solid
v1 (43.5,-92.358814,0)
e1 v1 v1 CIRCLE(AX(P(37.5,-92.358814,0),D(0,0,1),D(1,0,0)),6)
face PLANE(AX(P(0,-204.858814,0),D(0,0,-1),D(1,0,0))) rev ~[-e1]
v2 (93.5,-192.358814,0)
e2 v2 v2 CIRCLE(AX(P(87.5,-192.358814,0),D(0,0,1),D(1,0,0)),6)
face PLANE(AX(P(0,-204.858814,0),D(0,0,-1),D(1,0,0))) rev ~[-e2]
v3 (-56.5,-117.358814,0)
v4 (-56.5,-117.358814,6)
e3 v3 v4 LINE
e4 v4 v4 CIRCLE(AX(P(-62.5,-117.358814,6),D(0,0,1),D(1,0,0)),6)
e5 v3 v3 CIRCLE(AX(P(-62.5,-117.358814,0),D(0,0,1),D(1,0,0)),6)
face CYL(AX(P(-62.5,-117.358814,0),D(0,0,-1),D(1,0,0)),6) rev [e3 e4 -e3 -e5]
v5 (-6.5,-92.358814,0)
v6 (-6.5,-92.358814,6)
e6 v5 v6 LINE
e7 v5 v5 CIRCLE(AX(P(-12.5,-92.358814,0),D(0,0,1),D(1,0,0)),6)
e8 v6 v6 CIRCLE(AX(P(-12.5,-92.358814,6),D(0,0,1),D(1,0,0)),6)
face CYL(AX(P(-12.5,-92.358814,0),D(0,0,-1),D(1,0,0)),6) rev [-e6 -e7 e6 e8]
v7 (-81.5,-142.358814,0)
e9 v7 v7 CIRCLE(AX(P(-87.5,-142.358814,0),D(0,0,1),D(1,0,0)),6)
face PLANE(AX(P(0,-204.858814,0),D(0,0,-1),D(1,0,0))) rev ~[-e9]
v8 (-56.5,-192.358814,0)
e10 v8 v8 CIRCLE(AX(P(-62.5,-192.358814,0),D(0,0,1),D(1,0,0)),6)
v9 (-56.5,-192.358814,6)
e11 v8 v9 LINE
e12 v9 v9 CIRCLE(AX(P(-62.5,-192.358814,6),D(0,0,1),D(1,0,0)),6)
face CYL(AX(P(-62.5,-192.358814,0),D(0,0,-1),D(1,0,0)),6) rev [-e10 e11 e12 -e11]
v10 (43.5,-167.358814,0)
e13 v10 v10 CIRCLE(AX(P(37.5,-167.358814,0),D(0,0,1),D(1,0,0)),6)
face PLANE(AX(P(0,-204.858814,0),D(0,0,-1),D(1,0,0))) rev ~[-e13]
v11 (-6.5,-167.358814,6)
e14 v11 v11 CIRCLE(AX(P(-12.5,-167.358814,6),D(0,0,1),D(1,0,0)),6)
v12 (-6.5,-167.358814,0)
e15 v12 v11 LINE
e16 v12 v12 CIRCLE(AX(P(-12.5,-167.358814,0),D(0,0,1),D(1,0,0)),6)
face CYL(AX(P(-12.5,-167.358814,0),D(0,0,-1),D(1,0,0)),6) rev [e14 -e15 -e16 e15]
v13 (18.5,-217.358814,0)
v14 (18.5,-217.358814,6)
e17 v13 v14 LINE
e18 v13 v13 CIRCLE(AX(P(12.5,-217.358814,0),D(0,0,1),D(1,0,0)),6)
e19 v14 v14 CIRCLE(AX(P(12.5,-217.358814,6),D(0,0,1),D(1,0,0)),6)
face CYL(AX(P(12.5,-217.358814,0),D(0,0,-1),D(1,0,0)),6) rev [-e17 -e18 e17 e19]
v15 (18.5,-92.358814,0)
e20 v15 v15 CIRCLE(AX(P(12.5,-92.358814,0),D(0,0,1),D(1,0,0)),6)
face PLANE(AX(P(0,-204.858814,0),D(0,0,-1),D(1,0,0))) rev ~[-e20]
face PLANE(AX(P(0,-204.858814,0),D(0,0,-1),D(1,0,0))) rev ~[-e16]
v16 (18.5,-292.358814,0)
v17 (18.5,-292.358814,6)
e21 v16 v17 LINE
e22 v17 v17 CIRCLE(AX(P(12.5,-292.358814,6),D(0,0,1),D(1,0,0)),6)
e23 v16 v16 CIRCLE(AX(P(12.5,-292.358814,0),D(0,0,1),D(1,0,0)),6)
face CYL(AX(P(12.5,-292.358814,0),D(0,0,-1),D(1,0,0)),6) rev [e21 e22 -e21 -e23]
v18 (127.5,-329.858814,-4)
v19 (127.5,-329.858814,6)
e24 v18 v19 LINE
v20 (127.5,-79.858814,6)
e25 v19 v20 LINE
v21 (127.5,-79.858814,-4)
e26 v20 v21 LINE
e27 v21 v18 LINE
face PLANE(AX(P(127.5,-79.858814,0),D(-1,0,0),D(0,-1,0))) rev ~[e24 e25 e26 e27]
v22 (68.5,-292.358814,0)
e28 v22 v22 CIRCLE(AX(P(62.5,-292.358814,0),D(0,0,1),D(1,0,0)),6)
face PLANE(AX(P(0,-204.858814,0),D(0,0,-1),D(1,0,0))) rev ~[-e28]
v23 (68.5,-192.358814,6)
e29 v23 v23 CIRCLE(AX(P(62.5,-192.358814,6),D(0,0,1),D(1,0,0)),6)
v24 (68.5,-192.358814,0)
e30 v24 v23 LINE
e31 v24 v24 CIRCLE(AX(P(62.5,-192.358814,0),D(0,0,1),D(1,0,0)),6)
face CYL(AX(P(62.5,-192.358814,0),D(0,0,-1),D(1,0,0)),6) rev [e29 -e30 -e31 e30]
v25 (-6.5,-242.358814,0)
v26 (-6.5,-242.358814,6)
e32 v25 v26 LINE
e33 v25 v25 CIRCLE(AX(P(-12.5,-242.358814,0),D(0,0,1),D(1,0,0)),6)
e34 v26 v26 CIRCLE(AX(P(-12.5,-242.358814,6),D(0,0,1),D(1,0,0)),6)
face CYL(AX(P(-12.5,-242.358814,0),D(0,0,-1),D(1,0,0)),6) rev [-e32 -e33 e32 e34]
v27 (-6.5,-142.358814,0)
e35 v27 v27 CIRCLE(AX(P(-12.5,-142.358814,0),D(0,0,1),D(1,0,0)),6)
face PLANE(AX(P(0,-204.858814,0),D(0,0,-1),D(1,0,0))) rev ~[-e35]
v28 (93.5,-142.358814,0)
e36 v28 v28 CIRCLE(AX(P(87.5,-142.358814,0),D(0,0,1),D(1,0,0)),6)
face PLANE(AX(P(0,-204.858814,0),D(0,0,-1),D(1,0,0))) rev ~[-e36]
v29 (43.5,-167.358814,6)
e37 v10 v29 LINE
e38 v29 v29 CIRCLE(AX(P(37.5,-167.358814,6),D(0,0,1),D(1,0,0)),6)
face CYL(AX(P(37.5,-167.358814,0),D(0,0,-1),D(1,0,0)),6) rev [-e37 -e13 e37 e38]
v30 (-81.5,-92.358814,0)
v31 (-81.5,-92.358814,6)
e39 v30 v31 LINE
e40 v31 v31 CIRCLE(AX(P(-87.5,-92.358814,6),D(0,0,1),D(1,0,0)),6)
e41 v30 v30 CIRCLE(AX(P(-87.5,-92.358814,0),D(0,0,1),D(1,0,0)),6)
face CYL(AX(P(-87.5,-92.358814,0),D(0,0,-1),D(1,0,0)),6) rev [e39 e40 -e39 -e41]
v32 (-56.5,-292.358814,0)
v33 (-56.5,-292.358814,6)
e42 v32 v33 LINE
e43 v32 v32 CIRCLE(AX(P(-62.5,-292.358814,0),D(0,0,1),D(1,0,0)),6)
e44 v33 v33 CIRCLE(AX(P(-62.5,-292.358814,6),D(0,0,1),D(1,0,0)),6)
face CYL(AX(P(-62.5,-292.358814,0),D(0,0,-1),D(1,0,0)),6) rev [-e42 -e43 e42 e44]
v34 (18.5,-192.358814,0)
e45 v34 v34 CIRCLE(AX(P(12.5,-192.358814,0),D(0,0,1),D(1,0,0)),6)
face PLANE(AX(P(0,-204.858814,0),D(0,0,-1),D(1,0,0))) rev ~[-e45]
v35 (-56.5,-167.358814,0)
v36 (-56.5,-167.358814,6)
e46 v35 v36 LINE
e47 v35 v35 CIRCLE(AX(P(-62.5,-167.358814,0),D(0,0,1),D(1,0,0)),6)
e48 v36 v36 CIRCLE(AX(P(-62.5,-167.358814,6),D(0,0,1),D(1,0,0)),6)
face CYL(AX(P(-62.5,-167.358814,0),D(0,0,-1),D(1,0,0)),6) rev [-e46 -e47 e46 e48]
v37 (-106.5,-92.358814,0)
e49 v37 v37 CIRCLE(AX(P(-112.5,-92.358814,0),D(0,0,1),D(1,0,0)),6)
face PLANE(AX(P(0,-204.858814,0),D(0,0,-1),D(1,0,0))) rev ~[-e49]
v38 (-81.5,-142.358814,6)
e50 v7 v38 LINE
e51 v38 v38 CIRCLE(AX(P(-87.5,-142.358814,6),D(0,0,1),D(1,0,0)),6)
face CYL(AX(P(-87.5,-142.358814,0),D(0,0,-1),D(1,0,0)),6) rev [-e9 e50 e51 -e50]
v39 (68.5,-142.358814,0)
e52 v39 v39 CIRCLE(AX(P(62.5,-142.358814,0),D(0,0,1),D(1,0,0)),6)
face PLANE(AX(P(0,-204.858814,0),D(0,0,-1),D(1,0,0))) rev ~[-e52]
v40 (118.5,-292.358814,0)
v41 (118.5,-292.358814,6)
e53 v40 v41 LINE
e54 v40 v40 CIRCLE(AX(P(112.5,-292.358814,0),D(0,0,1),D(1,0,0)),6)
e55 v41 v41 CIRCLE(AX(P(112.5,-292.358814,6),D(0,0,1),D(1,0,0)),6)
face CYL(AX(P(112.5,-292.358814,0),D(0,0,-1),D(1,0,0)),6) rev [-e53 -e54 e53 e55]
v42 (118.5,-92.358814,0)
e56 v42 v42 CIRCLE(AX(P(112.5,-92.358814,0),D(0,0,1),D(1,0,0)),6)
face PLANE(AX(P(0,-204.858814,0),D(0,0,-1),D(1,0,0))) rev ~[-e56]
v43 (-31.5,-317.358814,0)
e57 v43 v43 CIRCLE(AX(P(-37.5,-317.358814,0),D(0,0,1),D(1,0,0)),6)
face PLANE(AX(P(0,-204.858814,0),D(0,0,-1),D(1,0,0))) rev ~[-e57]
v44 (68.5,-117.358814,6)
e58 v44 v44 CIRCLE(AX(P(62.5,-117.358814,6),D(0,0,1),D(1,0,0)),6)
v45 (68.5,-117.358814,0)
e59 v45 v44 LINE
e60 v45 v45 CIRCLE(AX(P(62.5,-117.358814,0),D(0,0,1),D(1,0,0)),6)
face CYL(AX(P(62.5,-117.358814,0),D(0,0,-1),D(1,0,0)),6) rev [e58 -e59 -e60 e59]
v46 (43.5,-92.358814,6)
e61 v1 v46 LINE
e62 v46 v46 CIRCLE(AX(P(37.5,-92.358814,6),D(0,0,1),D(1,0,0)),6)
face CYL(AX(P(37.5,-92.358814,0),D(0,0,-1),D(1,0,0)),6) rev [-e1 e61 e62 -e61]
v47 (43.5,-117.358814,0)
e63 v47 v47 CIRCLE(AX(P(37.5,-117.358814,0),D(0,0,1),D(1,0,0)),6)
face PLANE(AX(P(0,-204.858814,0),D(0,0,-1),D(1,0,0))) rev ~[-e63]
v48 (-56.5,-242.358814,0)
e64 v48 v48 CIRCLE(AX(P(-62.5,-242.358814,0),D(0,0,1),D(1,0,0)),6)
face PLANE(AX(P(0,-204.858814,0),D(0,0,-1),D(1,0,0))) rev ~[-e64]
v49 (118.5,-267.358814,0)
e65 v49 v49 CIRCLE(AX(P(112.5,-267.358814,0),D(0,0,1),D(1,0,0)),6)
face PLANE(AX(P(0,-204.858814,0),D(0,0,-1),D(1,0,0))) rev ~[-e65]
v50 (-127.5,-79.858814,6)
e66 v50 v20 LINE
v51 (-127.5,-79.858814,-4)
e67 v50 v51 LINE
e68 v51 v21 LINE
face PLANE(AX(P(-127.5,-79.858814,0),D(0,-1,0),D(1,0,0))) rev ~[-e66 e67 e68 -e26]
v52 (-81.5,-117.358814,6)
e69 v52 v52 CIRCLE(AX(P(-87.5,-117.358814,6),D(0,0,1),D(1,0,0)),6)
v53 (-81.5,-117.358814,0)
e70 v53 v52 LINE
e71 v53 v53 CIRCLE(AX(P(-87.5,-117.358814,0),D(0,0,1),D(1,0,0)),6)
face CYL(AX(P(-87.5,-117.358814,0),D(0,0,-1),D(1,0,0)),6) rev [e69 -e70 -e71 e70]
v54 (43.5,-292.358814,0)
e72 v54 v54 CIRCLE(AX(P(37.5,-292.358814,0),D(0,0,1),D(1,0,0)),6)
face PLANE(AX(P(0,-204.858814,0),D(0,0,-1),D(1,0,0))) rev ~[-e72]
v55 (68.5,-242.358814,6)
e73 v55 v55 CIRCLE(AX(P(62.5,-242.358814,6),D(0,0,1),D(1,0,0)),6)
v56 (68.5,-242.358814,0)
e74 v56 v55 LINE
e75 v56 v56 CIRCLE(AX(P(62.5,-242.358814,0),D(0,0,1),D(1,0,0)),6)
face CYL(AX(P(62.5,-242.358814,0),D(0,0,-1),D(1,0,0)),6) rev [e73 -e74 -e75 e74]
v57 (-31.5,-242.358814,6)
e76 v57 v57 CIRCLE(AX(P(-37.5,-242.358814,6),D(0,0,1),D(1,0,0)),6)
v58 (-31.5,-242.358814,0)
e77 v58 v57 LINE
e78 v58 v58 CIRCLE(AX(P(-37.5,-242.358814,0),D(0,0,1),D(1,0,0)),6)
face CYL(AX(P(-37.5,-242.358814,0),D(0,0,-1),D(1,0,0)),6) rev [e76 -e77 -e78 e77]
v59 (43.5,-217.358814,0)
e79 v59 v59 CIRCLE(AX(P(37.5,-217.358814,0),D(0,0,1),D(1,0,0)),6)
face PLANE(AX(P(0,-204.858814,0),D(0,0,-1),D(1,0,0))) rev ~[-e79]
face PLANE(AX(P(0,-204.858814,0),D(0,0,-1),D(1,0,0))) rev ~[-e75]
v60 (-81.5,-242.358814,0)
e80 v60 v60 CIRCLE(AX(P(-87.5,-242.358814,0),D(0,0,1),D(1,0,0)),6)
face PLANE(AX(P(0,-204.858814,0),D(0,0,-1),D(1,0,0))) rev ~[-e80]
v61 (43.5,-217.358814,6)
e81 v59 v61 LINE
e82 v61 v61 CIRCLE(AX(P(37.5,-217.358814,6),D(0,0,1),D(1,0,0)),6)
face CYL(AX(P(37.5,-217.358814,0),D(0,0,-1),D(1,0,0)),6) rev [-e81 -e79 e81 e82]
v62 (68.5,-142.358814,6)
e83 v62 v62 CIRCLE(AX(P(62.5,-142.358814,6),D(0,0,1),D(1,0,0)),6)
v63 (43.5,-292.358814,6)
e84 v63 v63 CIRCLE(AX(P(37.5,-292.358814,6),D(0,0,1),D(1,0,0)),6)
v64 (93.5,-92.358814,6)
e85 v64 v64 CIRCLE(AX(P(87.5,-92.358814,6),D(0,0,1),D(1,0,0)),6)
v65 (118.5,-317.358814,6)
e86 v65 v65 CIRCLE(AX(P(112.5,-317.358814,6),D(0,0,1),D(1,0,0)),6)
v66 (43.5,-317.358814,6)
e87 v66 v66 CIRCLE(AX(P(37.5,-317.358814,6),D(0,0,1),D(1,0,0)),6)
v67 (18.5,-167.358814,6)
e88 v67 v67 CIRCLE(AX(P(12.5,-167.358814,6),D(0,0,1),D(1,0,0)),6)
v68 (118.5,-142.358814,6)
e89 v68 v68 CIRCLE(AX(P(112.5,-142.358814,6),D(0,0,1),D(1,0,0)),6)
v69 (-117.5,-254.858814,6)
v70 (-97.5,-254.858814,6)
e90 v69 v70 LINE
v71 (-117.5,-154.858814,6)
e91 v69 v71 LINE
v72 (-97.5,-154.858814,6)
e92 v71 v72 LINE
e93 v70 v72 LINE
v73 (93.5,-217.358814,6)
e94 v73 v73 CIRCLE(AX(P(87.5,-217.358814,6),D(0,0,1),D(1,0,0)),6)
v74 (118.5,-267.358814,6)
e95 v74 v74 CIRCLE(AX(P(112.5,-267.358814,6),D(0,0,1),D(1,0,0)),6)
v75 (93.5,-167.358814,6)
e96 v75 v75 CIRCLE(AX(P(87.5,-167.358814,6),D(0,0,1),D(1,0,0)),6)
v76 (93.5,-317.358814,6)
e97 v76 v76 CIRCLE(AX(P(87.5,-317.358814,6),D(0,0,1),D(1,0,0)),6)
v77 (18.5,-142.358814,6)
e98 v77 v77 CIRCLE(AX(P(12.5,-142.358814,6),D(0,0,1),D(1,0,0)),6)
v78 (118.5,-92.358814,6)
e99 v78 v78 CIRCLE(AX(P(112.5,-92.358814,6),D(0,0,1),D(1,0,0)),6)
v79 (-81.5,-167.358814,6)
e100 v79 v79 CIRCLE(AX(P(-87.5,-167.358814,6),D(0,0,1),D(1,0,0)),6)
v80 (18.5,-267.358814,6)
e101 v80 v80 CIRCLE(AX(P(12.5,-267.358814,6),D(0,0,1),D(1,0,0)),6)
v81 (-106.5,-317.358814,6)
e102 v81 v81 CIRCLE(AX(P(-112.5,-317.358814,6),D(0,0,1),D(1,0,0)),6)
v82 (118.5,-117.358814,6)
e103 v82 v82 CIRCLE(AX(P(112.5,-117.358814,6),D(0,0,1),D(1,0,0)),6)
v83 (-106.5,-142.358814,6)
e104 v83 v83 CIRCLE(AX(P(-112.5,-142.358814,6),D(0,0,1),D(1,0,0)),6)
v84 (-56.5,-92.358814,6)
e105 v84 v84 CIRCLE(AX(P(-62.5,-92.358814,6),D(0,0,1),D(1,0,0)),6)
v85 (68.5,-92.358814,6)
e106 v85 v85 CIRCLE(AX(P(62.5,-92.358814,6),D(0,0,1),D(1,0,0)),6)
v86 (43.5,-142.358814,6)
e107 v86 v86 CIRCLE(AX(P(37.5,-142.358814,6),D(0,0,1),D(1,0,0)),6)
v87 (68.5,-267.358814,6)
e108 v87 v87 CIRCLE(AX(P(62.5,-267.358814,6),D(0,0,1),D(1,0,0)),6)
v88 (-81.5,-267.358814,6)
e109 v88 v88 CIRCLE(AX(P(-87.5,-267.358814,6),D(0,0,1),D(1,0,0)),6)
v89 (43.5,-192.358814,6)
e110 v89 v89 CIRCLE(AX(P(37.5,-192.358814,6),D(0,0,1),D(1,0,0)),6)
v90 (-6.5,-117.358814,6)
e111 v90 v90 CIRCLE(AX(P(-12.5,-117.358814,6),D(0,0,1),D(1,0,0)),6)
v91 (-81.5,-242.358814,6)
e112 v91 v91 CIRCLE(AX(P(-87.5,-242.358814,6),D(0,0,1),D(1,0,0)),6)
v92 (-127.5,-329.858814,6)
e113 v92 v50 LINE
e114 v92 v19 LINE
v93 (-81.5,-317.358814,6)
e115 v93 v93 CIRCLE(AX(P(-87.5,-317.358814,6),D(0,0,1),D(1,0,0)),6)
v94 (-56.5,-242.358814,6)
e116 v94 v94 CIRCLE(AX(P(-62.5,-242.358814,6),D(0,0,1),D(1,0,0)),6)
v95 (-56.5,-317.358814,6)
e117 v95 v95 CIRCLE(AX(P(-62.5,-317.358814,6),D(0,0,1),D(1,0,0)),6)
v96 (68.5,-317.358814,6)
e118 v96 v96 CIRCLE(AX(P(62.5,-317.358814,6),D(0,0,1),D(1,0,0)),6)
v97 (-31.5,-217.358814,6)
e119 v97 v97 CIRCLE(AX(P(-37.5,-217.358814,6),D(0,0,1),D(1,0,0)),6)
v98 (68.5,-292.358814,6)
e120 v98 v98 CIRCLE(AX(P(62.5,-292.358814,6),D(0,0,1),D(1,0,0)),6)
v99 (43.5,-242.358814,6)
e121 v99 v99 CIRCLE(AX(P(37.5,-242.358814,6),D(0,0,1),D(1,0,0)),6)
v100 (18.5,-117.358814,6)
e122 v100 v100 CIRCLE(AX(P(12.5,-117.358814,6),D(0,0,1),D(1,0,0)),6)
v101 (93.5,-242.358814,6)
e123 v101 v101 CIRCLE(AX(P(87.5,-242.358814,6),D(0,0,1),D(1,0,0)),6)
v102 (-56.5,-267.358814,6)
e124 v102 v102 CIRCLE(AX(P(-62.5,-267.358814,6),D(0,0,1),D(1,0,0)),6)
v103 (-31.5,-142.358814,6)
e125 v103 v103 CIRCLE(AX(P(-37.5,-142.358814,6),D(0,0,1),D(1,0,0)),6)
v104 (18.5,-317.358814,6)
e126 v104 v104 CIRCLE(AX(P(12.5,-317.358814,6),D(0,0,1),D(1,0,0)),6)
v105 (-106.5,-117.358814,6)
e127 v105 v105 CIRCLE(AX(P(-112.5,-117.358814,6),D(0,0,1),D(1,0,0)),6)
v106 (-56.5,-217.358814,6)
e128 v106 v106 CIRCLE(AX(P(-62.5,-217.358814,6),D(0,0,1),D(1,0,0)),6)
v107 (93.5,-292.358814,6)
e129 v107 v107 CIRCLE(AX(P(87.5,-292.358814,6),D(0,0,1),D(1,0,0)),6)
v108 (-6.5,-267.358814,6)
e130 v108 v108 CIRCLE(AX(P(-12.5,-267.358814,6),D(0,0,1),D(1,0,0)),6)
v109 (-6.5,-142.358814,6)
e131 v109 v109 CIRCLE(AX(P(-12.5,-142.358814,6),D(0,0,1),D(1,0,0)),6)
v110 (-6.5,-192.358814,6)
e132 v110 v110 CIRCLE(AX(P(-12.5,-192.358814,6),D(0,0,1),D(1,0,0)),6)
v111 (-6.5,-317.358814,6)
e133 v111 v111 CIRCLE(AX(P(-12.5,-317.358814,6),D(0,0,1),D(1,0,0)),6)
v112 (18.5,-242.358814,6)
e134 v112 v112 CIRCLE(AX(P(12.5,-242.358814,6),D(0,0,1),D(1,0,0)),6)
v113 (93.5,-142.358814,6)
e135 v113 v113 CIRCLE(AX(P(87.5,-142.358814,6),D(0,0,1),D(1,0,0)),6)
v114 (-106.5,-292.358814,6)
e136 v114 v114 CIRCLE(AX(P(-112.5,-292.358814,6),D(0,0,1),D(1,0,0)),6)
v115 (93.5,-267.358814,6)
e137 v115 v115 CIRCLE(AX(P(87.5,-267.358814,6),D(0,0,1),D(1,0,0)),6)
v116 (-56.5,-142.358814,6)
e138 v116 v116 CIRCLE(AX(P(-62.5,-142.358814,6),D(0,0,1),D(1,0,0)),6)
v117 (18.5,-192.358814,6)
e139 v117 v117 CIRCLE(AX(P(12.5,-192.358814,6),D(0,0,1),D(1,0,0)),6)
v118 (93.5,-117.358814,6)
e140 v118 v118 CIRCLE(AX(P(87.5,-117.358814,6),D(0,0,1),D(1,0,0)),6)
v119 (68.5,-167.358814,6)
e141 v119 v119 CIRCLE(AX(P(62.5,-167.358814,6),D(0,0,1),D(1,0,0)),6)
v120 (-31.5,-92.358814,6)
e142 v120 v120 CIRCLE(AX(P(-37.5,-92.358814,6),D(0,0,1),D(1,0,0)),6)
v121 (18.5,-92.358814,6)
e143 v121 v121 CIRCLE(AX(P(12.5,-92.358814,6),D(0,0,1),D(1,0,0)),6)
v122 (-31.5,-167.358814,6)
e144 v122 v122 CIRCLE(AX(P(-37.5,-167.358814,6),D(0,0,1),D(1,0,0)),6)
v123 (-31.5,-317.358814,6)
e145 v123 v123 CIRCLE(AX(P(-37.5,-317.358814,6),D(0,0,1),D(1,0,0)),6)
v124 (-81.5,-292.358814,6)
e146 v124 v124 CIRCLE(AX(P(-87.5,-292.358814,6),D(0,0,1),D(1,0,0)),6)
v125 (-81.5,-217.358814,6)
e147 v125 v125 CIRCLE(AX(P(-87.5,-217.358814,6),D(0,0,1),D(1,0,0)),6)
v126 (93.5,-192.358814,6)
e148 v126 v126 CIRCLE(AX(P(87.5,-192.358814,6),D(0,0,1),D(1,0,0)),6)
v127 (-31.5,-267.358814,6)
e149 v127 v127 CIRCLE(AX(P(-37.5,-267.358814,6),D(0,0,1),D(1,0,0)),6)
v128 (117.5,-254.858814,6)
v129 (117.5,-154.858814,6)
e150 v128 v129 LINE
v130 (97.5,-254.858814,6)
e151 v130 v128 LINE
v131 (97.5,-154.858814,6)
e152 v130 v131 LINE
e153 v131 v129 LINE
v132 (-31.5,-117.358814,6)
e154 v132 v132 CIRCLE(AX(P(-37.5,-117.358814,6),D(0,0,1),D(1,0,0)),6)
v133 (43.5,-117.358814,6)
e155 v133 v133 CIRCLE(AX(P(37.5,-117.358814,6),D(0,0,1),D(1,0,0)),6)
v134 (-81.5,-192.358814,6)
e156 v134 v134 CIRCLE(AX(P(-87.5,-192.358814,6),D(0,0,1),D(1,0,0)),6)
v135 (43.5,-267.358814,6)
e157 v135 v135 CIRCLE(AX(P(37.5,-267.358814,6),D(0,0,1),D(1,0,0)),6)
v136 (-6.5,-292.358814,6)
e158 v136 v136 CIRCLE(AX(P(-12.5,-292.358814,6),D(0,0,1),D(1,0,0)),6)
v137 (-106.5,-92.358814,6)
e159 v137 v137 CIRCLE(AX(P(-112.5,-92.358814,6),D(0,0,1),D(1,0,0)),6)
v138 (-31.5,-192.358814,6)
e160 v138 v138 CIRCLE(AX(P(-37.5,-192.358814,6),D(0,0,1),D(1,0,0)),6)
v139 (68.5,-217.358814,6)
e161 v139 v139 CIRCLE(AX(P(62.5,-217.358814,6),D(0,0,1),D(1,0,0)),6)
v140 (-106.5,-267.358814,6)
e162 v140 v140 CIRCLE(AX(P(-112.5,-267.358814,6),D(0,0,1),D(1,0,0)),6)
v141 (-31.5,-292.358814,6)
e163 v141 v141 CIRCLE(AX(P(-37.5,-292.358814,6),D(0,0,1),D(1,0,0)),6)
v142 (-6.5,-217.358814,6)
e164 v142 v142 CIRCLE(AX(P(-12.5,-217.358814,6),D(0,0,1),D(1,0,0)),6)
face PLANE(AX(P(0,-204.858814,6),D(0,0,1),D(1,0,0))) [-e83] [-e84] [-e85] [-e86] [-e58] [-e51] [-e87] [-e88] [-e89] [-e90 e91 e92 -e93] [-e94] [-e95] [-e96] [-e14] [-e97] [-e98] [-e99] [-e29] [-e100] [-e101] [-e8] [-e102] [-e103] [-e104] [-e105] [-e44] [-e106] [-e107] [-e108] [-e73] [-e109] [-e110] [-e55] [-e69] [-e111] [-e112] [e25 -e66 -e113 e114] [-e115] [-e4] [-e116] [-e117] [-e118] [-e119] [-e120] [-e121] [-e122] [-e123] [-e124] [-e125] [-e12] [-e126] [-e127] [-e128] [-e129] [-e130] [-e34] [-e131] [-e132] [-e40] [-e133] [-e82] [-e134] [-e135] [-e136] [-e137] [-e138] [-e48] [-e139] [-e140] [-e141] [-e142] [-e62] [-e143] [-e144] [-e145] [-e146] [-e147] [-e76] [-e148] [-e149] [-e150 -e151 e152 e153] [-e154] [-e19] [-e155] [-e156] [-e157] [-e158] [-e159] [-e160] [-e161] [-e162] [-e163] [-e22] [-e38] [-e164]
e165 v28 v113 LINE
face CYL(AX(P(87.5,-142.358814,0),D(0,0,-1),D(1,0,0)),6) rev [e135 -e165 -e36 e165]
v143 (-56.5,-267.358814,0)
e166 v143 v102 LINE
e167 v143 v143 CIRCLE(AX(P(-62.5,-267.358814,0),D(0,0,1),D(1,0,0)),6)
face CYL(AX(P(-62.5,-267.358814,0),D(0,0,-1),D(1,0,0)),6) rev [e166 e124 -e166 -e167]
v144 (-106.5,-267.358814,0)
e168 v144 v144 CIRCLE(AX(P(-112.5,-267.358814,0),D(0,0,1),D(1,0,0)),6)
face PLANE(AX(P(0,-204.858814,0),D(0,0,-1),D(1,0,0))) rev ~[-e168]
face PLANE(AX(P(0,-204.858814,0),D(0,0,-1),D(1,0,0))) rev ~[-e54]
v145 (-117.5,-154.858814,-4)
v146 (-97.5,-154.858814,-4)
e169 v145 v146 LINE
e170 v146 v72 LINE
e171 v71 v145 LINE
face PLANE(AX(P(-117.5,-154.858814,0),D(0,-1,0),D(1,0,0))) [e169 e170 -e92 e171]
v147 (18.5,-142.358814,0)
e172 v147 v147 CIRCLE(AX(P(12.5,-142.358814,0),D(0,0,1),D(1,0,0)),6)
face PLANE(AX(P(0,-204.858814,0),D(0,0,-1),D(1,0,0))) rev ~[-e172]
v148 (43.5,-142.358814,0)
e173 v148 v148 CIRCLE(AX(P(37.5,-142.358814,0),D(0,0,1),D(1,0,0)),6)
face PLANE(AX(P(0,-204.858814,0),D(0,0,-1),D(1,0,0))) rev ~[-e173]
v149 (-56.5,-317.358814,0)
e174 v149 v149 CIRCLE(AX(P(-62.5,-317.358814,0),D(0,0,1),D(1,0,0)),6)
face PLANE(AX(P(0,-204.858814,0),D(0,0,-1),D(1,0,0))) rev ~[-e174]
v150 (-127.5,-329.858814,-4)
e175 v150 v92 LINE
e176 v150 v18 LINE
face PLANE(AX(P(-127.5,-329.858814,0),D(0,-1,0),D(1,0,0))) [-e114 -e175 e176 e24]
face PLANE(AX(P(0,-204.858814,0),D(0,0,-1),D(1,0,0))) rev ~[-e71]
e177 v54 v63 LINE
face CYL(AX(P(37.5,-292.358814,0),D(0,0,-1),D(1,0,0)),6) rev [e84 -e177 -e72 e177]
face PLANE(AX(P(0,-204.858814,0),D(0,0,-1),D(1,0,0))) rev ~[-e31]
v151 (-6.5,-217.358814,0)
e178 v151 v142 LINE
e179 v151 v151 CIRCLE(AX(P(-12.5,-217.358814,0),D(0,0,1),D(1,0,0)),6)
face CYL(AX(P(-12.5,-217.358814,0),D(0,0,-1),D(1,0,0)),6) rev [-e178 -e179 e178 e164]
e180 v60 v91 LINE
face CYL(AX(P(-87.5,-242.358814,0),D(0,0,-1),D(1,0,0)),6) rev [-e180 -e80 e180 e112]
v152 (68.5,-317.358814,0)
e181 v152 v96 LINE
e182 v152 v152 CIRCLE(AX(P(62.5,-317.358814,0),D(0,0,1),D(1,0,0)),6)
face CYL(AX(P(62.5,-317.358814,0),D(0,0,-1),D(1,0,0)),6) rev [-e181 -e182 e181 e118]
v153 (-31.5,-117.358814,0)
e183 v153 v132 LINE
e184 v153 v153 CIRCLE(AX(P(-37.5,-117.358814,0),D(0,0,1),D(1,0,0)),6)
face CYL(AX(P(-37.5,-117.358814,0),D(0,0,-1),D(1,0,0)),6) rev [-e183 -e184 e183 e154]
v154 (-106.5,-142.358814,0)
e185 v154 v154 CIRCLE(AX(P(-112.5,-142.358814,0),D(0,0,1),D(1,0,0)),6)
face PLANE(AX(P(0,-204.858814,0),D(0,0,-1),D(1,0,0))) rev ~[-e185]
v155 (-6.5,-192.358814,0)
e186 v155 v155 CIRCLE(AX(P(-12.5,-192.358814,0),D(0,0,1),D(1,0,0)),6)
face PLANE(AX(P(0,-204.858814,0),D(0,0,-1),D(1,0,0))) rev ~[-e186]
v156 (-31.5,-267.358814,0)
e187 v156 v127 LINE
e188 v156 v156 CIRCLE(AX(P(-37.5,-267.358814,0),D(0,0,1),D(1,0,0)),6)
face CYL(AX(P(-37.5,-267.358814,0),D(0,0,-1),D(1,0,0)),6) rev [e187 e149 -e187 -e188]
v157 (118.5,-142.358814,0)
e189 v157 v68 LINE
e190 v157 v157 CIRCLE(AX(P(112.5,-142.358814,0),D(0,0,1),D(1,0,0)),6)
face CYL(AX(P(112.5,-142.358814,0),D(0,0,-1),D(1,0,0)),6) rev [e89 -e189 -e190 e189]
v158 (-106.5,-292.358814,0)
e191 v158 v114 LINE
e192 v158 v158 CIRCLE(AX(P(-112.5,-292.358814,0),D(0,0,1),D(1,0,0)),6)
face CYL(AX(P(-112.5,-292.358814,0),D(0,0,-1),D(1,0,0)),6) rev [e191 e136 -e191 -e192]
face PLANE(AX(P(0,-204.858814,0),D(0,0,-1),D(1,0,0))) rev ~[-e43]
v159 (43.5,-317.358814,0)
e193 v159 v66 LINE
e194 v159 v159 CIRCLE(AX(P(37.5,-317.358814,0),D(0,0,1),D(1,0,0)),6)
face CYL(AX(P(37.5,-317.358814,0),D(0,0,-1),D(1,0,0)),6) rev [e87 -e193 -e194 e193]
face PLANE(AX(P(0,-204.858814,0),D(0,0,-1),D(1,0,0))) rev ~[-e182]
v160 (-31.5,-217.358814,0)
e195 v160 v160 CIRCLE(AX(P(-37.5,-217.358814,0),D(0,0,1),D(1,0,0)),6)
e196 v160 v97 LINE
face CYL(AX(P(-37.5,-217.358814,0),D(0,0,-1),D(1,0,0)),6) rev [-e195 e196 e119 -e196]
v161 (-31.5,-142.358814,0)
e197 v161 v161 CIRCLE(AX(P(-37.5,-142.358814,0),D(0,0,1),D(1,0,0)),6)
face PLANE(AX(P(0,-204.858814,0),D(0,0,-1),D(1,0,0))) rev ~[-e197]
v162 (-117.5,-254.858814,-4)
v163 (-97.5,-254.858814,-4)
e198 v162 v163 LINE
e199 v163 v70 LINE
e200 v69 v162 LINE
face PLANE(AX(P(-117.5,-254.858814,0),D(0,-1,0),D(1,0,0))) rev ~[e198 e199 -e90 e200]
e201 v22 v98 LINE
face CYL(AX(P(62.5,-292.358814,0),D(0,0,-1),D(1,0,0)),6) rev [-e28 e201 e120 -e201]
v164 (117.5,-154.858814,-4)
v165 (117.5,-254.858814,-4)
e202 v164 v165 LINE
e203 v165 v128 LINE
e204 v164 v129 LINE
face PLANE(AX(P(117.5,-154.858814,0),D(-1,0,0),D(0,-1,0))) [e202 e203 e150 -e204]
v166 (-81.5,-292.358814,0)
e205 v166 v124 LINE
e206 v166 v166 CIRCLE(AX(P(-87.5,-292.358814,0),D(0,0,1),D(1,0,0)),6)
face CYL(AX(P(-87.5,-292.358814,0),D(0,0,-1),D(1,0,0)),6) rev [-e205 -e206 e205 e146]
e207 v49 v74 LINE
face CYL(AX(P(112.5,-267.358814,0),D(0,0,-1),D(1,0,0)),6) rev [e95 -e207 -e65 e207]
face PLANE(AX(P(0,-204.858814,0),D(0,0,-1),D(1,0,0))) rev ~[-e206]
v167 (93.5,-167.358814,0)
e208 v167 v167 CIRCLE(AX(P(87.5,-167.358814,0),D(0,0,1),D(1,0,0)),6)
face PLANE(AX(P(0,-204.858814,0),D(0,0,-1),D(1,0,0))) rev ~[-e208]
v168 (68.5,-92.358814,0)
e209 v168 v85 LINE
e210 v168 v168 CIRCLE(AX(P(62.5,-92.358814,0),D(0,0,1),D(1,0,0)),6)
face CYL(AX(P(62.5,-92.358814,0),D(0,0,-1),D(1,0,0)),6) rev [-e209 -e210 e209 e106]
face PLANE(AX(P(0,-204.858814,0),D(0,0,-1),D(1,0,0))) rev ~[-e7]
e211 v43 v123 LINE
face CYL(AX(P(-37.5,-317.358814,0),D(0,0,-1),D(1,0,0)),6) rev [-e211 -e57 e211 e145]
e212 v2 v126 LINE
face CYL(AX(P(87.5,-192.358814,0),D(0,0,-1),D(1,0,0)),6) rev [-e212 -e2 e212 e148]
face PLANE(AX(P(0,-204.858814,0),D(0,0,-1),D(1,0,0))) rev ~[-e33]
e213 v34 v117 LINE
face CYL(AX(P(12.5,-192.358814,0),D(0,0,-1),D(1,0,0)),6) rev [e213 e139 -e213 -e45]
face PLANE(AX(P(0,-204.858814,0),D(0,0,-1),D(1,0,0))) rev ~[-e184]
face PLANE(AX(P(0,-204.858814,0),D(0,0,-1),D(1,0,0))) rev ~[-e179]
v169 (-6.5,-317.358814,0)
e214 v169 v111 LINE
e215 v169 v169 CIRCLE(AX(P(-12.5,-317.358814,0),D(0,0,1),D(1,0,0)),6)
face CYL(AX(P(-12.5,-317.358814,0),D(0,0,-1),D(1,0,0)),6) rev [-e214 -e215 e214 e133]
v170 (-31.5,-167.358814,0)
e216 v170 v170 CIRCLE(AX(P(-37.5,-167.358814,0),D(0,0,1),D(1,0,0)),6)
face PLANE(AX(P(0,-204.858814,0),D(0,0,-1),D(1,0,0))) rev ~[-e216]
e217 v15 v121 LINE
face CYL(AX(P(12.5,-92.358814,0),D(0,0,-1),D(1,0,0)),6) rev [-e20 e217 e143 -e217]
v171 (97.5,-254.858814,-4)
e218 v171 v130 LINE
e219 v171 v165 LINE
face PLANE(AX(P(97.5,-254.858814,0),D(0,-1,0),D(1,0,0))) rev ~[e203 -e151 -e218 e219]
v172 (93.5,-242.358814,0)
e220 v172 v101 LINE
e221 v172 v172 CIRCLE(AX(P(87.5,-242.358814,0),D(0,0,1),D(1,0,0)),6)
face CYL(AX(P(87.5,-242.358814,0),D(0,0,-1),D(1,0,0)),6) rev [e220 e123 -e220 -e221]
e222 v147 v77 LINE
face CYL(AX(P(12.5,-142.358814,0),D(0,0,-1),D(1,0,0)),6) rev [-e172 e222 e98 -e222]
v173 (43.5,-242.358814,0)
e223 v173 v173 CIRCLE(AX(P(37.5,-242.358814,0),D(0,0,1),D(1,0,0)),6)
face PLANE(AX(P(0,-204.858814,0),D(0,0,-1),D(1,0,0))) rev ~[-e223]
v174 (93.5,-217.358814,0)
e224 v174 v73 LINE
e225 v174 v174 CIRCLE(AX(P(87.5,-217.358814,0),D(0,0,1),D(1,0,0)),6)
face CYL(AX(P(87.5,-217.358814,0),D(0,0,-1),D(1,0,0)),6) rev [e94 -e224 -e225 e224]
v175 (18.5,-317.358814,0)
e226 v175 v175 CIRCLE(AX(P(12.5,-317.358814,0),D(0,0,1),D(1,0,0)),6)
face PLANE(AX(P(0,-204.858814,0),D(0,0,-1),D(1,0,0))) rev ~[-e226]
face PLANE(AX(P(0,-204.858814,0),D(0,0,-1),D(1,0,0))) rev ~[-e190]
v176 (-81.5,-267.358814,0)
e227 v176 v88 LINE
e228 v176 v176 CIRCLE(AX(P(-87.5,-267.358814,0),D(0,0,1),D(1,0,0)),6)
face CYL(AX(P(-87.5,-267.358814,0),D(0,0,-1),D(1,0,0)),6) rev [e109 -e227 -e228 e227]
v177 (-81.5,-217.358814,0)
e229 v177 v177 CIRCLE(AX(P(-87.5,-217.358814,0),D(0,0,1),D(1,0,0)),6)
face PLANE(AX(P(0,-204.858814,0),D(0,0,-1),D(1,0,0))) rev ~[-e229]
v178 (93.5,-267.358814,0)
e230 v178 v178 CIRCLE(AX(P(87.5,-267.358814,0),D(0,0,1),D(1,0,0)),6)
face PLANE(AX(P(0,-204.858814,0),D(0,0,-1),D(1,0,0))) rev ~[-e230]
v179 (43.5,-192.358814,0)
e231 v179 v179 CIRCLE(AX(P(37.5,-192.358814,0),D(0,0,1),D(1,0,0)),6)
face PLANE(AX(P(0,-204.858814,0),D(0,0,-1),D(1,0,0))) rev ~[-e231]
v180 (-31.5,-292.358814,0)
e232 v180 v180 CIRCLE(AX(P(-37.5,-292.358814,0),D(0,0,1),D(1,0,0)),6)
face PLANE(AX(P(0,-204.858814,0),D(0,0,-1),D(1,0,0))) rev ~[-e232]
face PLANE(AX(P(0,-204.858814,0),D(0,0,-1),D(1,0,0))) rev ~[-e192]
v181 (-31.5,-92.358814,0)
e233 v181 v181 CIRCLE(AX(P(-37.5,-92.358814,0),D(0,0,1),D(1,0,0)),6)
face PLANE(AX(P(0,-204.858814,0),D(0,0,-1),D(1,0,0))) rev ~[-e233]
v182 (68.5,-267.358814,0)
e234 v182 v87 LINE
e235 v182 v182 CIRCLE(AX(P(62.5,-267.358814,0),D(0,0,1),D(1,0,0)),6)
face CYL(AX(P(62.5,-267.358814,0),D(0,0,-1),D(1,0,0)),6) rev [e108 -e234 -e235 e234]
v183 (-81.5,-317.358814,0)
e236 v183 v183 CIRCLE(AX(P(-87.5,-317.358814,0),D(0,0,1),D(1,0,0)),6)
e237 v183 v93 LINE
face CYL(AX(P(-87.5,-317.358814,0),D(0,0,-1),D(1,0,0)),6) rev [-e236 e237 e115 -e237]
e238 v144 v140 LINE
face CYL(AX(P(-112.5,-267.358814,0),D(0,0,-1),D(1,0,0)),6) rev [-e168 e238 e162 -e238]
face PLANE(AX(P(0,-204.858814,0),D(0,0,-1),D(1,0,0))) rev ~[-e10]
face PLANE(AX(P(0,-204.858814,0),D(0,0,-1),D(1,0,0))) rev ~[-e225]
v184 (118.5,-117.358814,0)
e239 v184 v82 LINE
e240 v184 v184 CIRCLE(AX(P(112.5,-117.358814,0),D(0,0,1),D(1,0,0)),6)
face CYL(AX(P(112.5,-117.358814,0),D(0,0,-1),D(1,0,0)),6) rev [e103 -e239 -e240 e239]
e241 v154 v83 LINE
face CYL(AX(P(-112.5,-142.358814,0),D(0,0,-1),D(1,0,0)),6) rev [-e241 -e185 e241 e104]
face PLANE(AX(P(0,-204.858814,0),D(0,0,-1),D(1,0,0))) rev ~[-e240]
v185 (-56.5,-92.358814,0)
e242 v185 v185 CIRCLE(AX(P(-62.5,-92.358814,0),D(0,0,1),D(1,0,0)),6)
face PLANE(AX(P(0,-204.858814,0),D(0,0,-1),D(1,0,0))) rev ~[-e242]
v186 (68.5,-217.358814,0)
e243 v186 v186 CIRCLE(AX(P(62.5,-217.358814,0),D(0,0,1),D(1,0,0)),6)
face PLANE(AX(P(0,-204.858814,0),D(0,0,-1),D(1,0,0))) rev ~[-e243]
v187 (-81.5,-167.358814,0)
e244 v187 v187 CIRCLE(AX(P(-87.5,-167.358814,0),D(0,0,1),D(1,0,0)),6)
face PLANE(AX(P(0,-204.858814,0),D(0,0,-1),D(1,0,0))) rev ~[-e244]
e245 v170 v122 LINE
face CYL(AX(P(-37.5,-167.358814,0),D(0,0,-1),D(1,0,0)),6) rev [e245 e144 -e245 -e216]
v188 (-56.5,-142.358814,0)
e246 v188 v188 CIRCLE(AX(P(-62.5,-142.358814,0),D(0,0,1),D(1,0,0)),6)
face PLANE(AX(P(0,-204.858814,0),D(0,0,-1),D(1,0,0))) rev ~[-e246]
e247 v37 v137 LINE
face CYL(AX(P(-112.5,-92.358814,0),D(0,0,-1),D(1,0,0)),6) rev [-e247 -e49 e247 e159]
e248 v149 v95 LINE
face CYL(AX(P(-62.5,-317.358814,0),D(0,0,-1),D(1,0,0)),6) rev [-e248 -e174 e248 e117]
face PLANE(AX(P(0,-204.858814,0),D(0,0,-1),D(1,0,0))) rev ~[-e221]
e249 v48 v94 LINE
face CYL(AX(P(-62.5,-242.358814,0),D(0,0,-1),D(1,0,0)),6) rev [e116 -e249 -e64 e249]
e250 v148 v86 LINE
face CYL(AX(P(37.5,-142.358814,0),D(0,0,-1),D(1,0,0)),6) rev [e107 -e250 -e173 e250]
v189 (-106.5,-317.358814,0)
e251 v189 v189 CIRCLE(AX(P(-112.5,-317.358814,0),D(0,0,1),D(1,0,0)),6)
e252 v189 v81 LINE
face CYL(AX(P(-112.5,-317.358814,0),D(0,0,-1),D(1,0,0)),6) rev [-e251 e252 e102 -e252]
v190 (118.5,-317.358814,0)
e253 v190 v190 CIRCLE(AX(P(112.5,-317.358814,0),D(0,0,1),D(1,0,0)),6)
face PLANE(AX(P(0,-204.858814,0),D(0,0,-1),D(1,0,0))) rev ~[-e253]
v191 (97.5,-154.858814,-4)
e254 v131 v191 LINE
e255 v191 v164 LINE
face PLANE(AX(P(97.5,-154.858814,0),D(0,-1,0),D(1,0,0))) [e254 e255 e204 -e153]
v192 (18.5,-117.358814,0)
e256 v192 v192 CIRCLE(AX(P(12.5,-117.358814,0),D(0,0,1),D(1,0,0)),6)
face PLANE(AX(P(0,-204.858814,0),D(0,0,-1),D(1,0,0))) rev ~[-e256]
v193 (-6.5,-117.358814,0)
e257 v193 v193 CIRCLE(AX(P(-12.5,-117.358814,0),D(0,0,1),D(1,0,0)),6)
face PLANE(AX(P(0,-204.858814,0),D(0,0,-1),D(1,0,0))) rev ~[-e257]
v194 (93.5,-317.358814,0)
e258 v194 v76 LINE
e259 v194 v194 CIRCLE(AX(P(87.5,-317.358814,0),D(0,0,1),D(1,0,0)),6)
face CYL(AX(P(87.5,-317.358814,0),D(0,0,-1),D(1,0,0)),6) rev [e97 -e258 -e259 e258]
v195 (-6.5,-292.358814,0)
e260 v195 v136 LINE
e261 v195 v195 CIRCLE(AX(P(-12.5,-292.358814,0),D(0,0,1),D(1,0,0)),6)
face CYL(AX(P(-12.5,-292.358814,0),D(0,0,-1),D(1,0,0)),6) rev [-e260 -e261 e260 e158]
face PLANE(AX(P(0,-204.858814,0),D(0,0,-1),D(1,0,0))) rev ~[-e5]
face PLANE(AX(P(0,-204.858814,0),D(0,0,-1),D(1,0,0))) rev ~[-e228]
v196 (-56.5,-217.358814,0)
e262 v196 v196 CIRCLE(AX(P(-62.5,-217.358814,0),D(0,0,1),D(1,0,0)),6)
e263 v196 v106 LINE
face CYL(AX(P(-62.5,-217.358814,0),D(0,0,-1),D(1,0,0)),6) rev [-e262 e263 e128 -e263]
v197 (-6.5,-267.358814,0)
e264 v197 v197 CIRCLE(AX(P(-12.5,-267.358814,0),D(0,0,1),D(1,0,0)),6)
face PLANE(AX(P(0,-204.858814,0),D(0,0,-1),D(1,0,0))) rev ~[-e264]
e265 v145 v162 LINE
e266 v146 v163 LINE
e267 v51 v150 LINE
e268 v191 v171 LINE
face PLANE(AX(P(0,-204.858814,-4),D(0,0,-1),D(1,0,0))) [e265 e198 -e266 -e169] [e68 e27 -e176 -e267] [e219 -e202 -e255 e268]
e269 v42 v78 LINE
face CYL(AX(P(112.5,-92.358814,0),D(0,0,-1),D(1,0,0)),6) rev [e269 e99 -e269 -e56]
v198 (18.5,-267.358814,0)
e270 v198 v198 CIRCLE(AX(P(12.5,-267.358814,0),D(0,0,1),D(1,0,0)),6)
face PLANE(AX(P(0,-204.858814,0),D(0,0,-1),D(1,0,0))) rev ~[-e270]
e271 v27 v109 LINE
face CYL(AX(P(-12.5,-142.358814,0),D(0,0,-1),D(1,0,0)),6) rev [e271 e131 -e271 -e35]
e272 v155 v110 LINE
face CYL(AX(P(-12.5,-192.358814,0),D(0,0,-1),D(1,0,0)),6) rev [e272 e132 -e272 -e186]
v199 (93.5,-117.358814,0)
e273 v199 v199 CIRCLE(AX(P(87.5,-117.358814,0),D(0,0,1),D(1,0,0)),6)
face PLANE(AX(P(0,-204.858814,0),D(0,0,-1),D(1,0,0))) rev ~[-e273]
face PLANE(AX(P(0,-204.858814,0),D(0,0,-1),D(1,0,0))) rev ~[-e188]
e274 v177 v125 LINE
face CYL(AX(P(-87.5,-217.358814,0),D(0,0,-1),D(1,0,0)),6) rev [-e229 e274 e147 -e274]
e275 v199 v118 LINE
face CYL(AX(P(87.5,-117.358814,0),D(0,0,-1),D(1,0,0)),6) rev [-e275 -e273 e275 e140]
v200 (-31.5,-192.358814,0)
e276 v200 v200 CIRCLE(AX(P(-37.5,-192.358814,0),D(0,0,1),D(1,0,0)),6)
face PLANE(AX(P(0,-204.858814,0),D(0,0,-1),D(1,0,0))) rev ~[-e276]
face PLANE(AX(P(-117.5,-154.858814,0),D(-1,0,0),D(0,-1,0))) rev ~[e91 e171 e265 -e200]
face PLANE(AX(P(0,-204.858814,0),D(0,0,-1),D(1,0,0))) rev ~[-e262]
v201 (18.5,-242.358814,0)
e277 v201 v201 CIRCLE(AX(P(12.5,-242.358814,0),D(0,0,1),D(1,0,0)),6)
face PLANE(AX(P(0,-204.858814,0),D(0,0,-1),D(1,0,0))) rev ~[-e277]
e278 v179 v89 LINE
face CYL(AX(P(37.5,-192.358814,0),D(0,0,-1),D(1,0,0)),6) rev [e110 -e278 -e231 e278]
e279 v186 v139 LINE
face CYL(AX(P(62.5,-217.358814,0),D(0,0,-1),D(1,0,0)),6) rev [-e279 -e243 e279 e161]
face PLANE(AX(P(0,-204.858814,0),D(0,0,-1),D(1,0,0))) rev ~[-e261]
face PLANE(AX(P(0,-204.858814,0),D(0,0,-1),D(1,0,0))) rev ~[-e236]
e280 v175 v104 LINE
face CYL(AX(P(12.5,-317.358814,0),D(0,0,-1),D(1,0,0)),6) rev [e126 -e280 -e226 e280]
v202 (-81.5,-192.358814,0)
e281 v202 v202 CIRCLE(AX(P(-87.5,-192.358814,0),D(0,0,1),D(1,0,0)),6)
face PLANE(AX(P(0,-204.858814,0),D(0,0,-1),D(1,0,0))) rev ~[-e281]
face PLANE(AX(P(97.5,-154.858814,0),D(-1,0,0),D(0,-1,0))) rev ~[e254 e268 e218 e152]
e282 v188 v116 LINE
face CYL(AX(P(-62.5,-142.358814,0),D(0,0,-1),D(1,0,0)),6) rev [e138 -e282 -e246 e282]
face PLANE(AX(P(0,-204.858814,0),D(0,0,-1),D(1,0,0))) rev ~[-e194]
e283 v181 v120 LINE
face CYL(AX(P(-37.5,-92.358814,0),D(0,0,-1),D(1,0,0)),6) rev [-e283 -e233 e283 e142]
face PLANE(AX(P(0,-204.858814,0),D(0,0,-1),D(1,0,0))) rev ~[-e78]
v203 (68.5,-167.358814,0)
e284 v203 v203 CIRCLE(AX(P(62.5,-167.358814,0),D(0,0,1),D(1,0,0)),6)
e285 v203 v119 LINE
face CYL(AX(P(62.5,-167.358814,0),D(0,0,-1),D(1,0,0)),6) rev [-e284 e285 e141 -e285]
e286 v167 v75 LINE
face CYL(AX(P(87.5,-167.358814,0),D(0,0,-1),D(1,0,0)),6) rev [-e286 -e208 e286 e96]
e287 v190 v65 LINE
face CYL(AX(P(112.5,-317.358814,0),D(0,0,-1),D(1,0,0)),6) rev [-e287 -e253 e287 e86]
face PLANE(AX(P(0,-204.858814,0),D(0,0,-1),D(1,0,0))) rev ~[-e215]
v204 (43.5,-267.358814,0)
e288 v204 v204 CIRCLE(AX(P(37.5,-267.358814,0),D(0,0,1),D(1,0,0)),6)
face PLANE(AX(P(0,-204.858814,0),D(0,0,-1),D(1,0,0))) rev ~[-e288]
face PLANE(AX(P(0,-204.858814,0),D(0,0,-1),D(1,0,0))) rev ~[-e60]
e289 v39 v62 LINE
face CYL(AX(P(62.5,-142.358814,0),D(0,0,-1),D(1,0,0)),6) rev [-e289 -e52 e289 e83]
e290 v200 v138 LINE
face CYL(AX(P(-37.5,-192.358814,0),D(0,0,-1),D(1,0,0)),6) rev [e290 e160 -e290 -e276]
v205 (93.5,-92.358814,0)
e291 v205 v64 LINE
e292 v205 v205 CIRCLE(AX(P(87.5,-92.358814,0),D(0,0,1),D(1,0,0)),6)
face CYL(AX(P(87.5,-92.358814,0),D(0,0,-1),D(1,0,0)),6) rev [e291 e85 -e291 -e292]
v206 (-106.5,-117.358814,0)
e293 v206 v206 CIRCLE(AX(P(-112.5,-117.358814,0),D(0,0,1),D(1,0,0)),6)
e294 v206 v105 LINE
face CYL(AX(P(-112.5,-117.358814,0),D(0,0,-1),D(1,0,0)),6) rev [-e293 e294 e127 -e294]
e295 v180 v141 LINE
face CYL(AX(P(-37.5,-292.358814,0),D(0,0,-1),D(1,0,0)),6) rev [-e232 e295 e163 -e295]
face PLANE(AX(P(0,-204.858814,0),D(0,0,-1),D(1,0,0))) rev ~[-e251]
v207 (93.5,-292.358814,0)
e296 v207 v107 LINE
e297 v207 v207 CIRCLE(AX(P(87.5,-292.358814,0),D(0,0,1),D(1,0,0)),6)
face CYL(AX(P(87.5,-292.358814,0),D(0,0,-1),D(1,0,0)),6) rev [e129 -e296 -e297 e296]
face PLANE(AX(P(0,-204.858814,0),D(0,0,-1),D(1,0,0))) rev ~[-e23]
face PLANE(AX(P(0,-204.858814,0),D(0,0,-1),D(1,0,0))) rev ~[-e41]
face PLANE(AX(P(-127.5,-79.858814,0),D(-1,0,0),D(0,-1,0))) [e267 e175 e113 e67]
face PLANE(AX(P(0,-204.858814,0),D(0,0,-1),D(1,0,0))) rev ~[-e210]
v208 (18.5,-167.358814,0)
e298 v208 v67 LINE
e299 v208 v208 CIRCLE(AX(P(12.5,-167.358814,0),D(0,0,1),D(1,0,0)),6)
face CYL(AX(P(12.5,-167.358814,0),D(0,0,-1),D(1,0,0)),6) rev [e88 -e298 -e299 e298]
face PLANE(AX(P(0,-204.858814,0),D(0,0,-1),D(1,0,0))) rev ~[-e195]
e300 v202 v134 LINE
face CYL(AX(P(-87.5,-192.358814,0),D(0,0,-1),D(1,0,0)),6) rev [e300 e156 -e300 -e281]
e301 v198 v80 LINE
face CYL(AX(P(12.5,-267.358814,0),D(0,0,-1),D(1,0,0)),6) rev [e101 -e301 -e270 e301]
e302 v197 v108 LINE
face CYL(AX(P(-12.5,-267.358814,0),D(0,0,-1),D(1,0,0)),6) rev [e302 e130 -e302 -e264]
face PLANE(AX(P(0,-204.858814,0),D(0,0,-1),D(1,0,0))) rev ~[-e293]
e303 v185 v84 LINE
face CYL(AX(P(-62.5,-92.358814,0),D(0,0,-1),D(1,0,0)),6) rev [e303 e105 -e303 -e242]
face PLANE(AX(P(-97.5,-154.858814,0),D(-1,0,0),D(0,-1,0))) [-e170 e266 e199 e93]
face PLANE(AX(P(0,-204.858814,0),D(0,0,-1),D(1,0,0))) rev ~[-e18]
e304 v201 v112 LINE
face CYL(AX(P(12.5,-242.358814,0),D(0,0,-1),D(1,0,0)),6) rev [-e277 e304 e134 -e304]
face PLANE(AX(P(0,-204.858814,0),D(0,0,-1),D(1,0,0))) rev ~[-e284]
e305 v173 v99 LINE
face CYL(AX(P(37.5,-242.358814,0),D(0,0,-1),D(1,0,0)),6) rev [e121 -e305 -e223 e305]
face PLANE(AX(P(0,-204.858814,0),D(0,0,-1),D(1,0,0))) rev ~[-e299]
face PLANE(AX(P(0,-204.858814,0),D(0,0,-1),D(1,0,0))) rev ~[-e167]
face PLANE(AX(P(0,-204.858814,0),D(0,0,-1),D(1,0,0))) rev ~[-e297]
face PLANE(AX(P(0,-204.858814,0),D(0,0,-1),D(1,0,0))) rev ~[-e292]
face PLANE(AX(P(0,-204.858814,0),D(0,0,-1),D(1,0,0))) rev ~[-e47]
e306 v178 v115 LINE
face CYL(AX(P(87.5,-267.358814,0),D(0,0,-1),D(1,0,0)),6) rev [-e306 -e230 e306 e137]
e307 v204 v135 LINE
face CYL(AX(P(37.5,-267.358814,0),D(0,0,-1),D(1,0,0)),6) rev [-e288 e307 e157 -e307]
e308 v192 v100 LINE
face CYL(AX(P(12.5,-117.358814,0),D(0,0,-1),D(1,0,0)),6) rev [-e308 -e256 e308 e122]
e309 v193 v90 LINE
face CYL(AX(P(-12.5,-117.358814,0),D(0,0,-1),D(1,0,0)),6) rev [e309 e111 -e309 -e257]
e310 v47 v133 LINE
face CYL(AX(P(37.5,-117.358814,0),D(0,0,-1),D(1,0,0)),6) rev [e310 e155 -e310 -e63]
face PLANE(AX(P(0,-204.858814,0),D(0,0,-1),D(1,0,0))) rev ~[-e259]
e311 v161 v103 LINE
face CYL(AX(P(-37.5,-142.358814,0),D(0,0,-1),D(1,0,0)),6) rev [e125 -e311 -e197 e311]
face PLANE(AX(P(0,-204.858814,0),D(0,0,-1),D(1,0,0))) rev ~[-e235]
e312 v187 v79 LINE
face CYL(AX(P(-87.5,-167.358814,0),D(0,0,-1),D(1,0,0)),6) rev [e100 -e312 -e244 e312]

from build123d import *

# Parameters (mm, degrees)
F0_W     = 255
F0_H     = 250
F0_R     = 6
F0_W_2   = 20
F0_H_2   = 100
F1_DEPTH = 6
F2_W     = 255
F2_H     = 250
F2_W_2   = 20
F2_H_2   = 100
F3_DEPTH = 4


with BuildPart() as f1:
    # F0 (on Top) → F1 (new body)
    with BuildSketch(Plane.XY):
        with Locations((0, -204.858814)):
            Rectangle(F0_W, F0_H)
        with Locations((-112.5, -317.358814)):
            Circle(F0_R, mode=Mode.SUBTRACT)
        with Locations((-87.5, -317.358814)):
            Circle(F0_R, mode=Mode.SUBTRACT)
        with Locations((-112.5, -292.358814)):
            Circle(F0_R, mode=Mode.SUBTRACT)
        with Locations((-87.5, -292.358814)):
            Circle(F0_R, mode=Mode.SUBTRACT)
        with Locations((-62.5, -317.358814)):
            Circle(F0_R, mode=Mode.SUBTRACT)
        with Locations((-37.5, -317.358814)):
            Circle(F0_R, mode=Mode.SUBTRACT)
        with Locations((-12.5, -317.358814)):
            Circle(F0_R, mode=Mode.SUBTRACT)
        with Locations((-62.5, -292.358814)):
            Circle(F0_R, mode=Mode.SUBTRACT)
        with Locations((-37.5, -292.358814)):
            Circle(F0_R, mode=Mode.SUBTRACT)
        with Locations((-12.5, -292.358814)):
            Circle(F0_R, mode=Mode.SUBTRACT)
        with Locations((-112.5, -267.358814)):
            Circle(F0_R, mode=Mode.SUBTRACT)
        with Locations((-87.5, -267.358814)):
            Circle(F0_R, mode=Mode.SUBTRACT)
        with Locations((-87.5, -242.358814)):
            Circle(F0_R, mode=Mode.SUBTRACT)
        with Locations((-107.5, -204.858814)):
            Rectangle(F0_W_2, F0_H_2, mode=Mode.SUBTRACT)
        with Locations((-87.5, -217.358814)):
            Circle(F0_R, mode=Mode.SUBTRACT)
        with Locations((-62.5, -267.358814)):
            Circle(F0_R, mode=Mode.SUBTRACT)
        with Locations((-37.5, -267.358814)):
            Circle(F0_R, mode=Mode.SUBTRACT)
        with Locations((-62.5, -242.358814)):
            Circle(F0_R, mode=Mode.SUBTRACT)
        with Locations((-37.5, -242.358814)):
            Circle(F0_R, mode=Mode.SUBTRACT)
        with Locations((-12.5, -267.358814)):
            Circle(F0_R, mode=Mode.SUBTRACT)
        with Locations((-12.5, -242.358814)):
            Circle(F0_R, mode=Mode.SUBTRACT)
        with Locations((-62.5, -217.358814)):
            Circle(F0_R, mode=Mode.SUBTRACT)
        with Locations((-37.5, -217.358814)):
            Circle(F0_R, mode=Mode.SUBTRACT)
        with Locations((-12.5, -217.358814)):
            Circle(F0_R, mode=Mode.SUBTRACT)
        with Locations((12.5, -317.358814)):
            Circle(F0_R, mode=Mode.SUBTRACT)
        with Locations((37.5, -317.358814)):
            Circle(F0_R, mode=Mode.SUBTRACT)
        with Locations((62.5, -317.358814)):
            Circle(F0_R, mode=Mode.SUBTRACT)
        with Locations((12.5, -292.358814)):
            Circle(F0_R, mode=Mode.SUBTRACT)
        with Locations((37.5, -292.358814)):
            Circle(F0_R, mode=Mode.SUBTRACT)
        with Locations((62.5, -292.358814)):
            Circle(F0_R, mode=Mode.SUBTRACT)
        with Locations((87.5, -317.358814)):
            Circle(F0_R, mode=Mode.SUBTRACT)
        with Locations((112.5, -317.358814)):
            Circle(F0_R, mode=Mode.SUBTRACT)
        with Locations((87.5, -292.358814)):
            Circle(F0_R, mode=Mode.SUBTRACT)
        with Locations((112.5, -292.358814)):
            Circle(F0_R, mode=Mode.SUBTRACT)
        with Locations((12.5, -267.358814)):
            Circle(F0_R, mode=Mode.SUBTRACT)
        with Locations((12.5, -242.358814)):
            Circle(F0_R, mode=Mode.SUBTRACT)
        with Locations((37.5, -267.358814)):
            Circle(F0_R, mode=Mode.SUBTRACT)
        with Locations((62.5, -267.358814)):
            Circle(F0_R, mode=Mode.SUBTRACT)
        with Locations((37.5, -242.358814)):
            Circle(F0_R, mode=Mode.SUBTRACT)
        with Locations((62.5, -242.358814)):
            Circle(F0_R, mode=Mode.SUBTRACT)
        with Locations((12.5, -217.358814)):
            Circle(F0_R, mode=Mode.SUBTRACT)
        with Locations((37.5, -217.358814)):
            Circle(F0_R, mode=Mode.SUBTRACT)
        with Locations((62.5, -217.358814)):
            Circle(F0_R, mode=Mode.SUBTRACT)
        with Locations((87.5, -267.358814)):
            Circle(F0_R, mode=Mode.SUBTRACT)
        with Locations((87.5, -242.358814)):
            Circle(F0_R, mode=Mode.SUBTRACT)
        with Locations((112.5, -267.358814)):
            Circle(F0_R, mode=Mode.SUBTRACT)
        with Locations((87.5, -217.358814)):
            Circle(F0_R, mode=Mode.SUBTRACT)
        with Locations((107.5, -204.858814)):
            Rectangle(F0_W_2, F0_H_2, mode=Mode.SUBTRACT)
        with Locations((-87.5, -192.358814)):
            Circle(F0_R, mode=Mode.SUBTRACT)
        with Locations((-87.5, -167.358814)):
            Circle(F0_R, mode=Mode.SUBTRACT)
        with Locations((-62.5, -192.358814)):
            Circle(F0_R, mode=Mode.SUBTRACT)
        with Locations((-37.5, -192.358814)):
            Circle(F0_R, mode=Mode.SUBTRACT)
        with Locations((-12.5, -192.358814)):
            Circle(F0_R, mode=Mode.SUBTRACT)
        with Locations((-62.5, -167.358814)):
            Circle(F0_R, mode=Mode.SUBTRACT)
        with Locations((-37.5, -167.358814)):
            Circle(F0_R, mode=Mode.SUBTRACT)
        with Locations((-12.5, -167.358814)):
            Circle(F0_R, mode=Mode.SUBTRACT)
        with Locations((-112.5, -142.358814)):
            Circle(F0_R, mode=Mode.SUBTRACT)
        with Locations((-112.5, -117.358814)):
            Circle(F0_R, mode=Mode.SUBTRACT)
        with Locations((-87.5, -142.358814)):
            Circle(F0_R, mode=Mode.SUBTRACT)
        with Locations((-87.5, -117.358814)):
            Circle(F0_R, mode=Mode.SUBTRACT)
        with Locations((-112.5, -92.358814)):
            Circle(F0_R, mode=Mode.SUBTRACT)
        with Locations((-87.5, -92.358814)):
            Circle(F0_R, mode=Mode.SUBTRACT)
        with Locations((-62.5, -142.358814)):
            Circle(F0_R, mode=Mode.SUBTRACT)
        with Locations((-37.5, -142.358814)):
            Circle(F0_R, mode=Mode.SUBTRACT)
        with Locations((-62.5, -117.358814)):
            Circle(F0_R, mode=Mode.SUBTRACT)
        with Locations((-37.5, -117.358814)):
            Circle(F0_R, mode=Mode.SUBTRACT)
        with Locations((-12.5, -142.358814)):
            Circle(F0_R, mode=Mode.SUBTRACT)
        with Locations((-12.5, -117.358814)):
            Circle(F0_R, mode=Mode.SUBTRACT)
        with Locations((-62.5, -92.358814)):
            Circle(F0_R, mode=Mode.SUBTRACT)
        with Locations((-37.5, -92.358814)):
            Circle(F0_R, mode=Mode.SUBTRACT)
        with Locations((-12.5, -92.358814)):
            Circle(F0_R, mode=Mode.SUBTRACT)
        with Locations((12.5, -192.358814)):
            Circle(F0_R, mode=Mode.SUBTRACT)
        with Locations((37.5, -192.358814)):
            Circle(F0_R, mode=Mode.SUBTRACT)
        with Locations((62.5, -192.358814)):
            Circle(F0_R, mode=Mode.SUBTRACT)
        with Locations((12.5, -167.358814)):
            Circle(F0_R, mode=Mode.SUBTRACT)
        with Locations((37.5, -167.358814)):
            Circle(F0_R, mode=Mode.SUBTRACT)
        with Locations((62.5, -167.358814)):
            Circle(F0_R, mode=Mode.SUBTRACT)
        with Locations((87.5, -192.358814)):
            Circle(F0_R, mode=Mode.SUBTRACT)
        with Locations((87.5, -167.358814)):
            Circle(F0_R, mode=Mode.SUBTRACT)
        with Locations((12.5, -142.358814)):
            Circle(F0_R, mode=Mode.SUBTRACT)
        with Locations((12.5, -117.358814)):
            Circle(F0_R, mode=Mode.SUBTRACT)
        with Locations((37.5, -142.358814)):
            Circle(F0_R, mode=Mode.SUBTRACT)
        with Locations((62.5, -142.358814)):
            Circle(F0_R, mode=Mode.SUBTRACT)
        with Locations((37.5, -117.358814)):
            Circle(F0_R, mode=Mode.SUBTRACT)
        with Locations((62.5, -117.358814)):
            Circle(F0_R, mode=Mode.SUBTRACT)
        with Locations((12.5, -92.358814)):
            Circle(F0_R, mode=Mode.SUBTRACT)
        with Locations((37.5, -92.358814)):
            Circle(F0_R, mode=Mode.SUBTRACT)
        with Locations((62.5, -92.358814)):
            Circle(F0_R, mode=Mode.SUBTRACT)
        with Locations((87.5, -142.358814)):
            Circle(F0_R, mode=Mode.SUBTRACT)
        with Locations((87.5, -117.358814)):
            Circle(F0_R, mode=Mode.SUBTRACT)
        with Locations((112.5, -142.358814)):
            Circle(F0_R, mode=Mode.SUBTRACT)
        with Locations((112.5, -117.358814)):
            Circle(F0_R, mode=Mode.SUBTRACT)
        with Locations((87.5, -92.358814)):
            Circle(F0_R, mode=Mode.SUBTRACT)
        with Locations((112.5, -92.358814)):
            Circle(F0_R, mode=Mode.SUBTRACT)
    extrude(amount=F1_DEPTH)

    # F2 (on face) → F3 (join)
    with BuildSketch(Plane(origin=(0, 0, 0), x_dir=(1, 0, 0), z_dir=(0, 0, -1))):
        with Locations((0, 204.858814)):
            Rectangle(F2_W, F2_H)
        with Locations((-107.5, 204.858814)):
            Rectangle(F2_W_2, F2_H_2, mode=Mode.SUBTRACT)
        with Locations((107.5, 204.858814)):
            Rectangle(F2_W_2, F2_H_2, mode=Mode.SUBTRACT)
    extrude(amount=F3_DEPTH)


solid = f1.part
